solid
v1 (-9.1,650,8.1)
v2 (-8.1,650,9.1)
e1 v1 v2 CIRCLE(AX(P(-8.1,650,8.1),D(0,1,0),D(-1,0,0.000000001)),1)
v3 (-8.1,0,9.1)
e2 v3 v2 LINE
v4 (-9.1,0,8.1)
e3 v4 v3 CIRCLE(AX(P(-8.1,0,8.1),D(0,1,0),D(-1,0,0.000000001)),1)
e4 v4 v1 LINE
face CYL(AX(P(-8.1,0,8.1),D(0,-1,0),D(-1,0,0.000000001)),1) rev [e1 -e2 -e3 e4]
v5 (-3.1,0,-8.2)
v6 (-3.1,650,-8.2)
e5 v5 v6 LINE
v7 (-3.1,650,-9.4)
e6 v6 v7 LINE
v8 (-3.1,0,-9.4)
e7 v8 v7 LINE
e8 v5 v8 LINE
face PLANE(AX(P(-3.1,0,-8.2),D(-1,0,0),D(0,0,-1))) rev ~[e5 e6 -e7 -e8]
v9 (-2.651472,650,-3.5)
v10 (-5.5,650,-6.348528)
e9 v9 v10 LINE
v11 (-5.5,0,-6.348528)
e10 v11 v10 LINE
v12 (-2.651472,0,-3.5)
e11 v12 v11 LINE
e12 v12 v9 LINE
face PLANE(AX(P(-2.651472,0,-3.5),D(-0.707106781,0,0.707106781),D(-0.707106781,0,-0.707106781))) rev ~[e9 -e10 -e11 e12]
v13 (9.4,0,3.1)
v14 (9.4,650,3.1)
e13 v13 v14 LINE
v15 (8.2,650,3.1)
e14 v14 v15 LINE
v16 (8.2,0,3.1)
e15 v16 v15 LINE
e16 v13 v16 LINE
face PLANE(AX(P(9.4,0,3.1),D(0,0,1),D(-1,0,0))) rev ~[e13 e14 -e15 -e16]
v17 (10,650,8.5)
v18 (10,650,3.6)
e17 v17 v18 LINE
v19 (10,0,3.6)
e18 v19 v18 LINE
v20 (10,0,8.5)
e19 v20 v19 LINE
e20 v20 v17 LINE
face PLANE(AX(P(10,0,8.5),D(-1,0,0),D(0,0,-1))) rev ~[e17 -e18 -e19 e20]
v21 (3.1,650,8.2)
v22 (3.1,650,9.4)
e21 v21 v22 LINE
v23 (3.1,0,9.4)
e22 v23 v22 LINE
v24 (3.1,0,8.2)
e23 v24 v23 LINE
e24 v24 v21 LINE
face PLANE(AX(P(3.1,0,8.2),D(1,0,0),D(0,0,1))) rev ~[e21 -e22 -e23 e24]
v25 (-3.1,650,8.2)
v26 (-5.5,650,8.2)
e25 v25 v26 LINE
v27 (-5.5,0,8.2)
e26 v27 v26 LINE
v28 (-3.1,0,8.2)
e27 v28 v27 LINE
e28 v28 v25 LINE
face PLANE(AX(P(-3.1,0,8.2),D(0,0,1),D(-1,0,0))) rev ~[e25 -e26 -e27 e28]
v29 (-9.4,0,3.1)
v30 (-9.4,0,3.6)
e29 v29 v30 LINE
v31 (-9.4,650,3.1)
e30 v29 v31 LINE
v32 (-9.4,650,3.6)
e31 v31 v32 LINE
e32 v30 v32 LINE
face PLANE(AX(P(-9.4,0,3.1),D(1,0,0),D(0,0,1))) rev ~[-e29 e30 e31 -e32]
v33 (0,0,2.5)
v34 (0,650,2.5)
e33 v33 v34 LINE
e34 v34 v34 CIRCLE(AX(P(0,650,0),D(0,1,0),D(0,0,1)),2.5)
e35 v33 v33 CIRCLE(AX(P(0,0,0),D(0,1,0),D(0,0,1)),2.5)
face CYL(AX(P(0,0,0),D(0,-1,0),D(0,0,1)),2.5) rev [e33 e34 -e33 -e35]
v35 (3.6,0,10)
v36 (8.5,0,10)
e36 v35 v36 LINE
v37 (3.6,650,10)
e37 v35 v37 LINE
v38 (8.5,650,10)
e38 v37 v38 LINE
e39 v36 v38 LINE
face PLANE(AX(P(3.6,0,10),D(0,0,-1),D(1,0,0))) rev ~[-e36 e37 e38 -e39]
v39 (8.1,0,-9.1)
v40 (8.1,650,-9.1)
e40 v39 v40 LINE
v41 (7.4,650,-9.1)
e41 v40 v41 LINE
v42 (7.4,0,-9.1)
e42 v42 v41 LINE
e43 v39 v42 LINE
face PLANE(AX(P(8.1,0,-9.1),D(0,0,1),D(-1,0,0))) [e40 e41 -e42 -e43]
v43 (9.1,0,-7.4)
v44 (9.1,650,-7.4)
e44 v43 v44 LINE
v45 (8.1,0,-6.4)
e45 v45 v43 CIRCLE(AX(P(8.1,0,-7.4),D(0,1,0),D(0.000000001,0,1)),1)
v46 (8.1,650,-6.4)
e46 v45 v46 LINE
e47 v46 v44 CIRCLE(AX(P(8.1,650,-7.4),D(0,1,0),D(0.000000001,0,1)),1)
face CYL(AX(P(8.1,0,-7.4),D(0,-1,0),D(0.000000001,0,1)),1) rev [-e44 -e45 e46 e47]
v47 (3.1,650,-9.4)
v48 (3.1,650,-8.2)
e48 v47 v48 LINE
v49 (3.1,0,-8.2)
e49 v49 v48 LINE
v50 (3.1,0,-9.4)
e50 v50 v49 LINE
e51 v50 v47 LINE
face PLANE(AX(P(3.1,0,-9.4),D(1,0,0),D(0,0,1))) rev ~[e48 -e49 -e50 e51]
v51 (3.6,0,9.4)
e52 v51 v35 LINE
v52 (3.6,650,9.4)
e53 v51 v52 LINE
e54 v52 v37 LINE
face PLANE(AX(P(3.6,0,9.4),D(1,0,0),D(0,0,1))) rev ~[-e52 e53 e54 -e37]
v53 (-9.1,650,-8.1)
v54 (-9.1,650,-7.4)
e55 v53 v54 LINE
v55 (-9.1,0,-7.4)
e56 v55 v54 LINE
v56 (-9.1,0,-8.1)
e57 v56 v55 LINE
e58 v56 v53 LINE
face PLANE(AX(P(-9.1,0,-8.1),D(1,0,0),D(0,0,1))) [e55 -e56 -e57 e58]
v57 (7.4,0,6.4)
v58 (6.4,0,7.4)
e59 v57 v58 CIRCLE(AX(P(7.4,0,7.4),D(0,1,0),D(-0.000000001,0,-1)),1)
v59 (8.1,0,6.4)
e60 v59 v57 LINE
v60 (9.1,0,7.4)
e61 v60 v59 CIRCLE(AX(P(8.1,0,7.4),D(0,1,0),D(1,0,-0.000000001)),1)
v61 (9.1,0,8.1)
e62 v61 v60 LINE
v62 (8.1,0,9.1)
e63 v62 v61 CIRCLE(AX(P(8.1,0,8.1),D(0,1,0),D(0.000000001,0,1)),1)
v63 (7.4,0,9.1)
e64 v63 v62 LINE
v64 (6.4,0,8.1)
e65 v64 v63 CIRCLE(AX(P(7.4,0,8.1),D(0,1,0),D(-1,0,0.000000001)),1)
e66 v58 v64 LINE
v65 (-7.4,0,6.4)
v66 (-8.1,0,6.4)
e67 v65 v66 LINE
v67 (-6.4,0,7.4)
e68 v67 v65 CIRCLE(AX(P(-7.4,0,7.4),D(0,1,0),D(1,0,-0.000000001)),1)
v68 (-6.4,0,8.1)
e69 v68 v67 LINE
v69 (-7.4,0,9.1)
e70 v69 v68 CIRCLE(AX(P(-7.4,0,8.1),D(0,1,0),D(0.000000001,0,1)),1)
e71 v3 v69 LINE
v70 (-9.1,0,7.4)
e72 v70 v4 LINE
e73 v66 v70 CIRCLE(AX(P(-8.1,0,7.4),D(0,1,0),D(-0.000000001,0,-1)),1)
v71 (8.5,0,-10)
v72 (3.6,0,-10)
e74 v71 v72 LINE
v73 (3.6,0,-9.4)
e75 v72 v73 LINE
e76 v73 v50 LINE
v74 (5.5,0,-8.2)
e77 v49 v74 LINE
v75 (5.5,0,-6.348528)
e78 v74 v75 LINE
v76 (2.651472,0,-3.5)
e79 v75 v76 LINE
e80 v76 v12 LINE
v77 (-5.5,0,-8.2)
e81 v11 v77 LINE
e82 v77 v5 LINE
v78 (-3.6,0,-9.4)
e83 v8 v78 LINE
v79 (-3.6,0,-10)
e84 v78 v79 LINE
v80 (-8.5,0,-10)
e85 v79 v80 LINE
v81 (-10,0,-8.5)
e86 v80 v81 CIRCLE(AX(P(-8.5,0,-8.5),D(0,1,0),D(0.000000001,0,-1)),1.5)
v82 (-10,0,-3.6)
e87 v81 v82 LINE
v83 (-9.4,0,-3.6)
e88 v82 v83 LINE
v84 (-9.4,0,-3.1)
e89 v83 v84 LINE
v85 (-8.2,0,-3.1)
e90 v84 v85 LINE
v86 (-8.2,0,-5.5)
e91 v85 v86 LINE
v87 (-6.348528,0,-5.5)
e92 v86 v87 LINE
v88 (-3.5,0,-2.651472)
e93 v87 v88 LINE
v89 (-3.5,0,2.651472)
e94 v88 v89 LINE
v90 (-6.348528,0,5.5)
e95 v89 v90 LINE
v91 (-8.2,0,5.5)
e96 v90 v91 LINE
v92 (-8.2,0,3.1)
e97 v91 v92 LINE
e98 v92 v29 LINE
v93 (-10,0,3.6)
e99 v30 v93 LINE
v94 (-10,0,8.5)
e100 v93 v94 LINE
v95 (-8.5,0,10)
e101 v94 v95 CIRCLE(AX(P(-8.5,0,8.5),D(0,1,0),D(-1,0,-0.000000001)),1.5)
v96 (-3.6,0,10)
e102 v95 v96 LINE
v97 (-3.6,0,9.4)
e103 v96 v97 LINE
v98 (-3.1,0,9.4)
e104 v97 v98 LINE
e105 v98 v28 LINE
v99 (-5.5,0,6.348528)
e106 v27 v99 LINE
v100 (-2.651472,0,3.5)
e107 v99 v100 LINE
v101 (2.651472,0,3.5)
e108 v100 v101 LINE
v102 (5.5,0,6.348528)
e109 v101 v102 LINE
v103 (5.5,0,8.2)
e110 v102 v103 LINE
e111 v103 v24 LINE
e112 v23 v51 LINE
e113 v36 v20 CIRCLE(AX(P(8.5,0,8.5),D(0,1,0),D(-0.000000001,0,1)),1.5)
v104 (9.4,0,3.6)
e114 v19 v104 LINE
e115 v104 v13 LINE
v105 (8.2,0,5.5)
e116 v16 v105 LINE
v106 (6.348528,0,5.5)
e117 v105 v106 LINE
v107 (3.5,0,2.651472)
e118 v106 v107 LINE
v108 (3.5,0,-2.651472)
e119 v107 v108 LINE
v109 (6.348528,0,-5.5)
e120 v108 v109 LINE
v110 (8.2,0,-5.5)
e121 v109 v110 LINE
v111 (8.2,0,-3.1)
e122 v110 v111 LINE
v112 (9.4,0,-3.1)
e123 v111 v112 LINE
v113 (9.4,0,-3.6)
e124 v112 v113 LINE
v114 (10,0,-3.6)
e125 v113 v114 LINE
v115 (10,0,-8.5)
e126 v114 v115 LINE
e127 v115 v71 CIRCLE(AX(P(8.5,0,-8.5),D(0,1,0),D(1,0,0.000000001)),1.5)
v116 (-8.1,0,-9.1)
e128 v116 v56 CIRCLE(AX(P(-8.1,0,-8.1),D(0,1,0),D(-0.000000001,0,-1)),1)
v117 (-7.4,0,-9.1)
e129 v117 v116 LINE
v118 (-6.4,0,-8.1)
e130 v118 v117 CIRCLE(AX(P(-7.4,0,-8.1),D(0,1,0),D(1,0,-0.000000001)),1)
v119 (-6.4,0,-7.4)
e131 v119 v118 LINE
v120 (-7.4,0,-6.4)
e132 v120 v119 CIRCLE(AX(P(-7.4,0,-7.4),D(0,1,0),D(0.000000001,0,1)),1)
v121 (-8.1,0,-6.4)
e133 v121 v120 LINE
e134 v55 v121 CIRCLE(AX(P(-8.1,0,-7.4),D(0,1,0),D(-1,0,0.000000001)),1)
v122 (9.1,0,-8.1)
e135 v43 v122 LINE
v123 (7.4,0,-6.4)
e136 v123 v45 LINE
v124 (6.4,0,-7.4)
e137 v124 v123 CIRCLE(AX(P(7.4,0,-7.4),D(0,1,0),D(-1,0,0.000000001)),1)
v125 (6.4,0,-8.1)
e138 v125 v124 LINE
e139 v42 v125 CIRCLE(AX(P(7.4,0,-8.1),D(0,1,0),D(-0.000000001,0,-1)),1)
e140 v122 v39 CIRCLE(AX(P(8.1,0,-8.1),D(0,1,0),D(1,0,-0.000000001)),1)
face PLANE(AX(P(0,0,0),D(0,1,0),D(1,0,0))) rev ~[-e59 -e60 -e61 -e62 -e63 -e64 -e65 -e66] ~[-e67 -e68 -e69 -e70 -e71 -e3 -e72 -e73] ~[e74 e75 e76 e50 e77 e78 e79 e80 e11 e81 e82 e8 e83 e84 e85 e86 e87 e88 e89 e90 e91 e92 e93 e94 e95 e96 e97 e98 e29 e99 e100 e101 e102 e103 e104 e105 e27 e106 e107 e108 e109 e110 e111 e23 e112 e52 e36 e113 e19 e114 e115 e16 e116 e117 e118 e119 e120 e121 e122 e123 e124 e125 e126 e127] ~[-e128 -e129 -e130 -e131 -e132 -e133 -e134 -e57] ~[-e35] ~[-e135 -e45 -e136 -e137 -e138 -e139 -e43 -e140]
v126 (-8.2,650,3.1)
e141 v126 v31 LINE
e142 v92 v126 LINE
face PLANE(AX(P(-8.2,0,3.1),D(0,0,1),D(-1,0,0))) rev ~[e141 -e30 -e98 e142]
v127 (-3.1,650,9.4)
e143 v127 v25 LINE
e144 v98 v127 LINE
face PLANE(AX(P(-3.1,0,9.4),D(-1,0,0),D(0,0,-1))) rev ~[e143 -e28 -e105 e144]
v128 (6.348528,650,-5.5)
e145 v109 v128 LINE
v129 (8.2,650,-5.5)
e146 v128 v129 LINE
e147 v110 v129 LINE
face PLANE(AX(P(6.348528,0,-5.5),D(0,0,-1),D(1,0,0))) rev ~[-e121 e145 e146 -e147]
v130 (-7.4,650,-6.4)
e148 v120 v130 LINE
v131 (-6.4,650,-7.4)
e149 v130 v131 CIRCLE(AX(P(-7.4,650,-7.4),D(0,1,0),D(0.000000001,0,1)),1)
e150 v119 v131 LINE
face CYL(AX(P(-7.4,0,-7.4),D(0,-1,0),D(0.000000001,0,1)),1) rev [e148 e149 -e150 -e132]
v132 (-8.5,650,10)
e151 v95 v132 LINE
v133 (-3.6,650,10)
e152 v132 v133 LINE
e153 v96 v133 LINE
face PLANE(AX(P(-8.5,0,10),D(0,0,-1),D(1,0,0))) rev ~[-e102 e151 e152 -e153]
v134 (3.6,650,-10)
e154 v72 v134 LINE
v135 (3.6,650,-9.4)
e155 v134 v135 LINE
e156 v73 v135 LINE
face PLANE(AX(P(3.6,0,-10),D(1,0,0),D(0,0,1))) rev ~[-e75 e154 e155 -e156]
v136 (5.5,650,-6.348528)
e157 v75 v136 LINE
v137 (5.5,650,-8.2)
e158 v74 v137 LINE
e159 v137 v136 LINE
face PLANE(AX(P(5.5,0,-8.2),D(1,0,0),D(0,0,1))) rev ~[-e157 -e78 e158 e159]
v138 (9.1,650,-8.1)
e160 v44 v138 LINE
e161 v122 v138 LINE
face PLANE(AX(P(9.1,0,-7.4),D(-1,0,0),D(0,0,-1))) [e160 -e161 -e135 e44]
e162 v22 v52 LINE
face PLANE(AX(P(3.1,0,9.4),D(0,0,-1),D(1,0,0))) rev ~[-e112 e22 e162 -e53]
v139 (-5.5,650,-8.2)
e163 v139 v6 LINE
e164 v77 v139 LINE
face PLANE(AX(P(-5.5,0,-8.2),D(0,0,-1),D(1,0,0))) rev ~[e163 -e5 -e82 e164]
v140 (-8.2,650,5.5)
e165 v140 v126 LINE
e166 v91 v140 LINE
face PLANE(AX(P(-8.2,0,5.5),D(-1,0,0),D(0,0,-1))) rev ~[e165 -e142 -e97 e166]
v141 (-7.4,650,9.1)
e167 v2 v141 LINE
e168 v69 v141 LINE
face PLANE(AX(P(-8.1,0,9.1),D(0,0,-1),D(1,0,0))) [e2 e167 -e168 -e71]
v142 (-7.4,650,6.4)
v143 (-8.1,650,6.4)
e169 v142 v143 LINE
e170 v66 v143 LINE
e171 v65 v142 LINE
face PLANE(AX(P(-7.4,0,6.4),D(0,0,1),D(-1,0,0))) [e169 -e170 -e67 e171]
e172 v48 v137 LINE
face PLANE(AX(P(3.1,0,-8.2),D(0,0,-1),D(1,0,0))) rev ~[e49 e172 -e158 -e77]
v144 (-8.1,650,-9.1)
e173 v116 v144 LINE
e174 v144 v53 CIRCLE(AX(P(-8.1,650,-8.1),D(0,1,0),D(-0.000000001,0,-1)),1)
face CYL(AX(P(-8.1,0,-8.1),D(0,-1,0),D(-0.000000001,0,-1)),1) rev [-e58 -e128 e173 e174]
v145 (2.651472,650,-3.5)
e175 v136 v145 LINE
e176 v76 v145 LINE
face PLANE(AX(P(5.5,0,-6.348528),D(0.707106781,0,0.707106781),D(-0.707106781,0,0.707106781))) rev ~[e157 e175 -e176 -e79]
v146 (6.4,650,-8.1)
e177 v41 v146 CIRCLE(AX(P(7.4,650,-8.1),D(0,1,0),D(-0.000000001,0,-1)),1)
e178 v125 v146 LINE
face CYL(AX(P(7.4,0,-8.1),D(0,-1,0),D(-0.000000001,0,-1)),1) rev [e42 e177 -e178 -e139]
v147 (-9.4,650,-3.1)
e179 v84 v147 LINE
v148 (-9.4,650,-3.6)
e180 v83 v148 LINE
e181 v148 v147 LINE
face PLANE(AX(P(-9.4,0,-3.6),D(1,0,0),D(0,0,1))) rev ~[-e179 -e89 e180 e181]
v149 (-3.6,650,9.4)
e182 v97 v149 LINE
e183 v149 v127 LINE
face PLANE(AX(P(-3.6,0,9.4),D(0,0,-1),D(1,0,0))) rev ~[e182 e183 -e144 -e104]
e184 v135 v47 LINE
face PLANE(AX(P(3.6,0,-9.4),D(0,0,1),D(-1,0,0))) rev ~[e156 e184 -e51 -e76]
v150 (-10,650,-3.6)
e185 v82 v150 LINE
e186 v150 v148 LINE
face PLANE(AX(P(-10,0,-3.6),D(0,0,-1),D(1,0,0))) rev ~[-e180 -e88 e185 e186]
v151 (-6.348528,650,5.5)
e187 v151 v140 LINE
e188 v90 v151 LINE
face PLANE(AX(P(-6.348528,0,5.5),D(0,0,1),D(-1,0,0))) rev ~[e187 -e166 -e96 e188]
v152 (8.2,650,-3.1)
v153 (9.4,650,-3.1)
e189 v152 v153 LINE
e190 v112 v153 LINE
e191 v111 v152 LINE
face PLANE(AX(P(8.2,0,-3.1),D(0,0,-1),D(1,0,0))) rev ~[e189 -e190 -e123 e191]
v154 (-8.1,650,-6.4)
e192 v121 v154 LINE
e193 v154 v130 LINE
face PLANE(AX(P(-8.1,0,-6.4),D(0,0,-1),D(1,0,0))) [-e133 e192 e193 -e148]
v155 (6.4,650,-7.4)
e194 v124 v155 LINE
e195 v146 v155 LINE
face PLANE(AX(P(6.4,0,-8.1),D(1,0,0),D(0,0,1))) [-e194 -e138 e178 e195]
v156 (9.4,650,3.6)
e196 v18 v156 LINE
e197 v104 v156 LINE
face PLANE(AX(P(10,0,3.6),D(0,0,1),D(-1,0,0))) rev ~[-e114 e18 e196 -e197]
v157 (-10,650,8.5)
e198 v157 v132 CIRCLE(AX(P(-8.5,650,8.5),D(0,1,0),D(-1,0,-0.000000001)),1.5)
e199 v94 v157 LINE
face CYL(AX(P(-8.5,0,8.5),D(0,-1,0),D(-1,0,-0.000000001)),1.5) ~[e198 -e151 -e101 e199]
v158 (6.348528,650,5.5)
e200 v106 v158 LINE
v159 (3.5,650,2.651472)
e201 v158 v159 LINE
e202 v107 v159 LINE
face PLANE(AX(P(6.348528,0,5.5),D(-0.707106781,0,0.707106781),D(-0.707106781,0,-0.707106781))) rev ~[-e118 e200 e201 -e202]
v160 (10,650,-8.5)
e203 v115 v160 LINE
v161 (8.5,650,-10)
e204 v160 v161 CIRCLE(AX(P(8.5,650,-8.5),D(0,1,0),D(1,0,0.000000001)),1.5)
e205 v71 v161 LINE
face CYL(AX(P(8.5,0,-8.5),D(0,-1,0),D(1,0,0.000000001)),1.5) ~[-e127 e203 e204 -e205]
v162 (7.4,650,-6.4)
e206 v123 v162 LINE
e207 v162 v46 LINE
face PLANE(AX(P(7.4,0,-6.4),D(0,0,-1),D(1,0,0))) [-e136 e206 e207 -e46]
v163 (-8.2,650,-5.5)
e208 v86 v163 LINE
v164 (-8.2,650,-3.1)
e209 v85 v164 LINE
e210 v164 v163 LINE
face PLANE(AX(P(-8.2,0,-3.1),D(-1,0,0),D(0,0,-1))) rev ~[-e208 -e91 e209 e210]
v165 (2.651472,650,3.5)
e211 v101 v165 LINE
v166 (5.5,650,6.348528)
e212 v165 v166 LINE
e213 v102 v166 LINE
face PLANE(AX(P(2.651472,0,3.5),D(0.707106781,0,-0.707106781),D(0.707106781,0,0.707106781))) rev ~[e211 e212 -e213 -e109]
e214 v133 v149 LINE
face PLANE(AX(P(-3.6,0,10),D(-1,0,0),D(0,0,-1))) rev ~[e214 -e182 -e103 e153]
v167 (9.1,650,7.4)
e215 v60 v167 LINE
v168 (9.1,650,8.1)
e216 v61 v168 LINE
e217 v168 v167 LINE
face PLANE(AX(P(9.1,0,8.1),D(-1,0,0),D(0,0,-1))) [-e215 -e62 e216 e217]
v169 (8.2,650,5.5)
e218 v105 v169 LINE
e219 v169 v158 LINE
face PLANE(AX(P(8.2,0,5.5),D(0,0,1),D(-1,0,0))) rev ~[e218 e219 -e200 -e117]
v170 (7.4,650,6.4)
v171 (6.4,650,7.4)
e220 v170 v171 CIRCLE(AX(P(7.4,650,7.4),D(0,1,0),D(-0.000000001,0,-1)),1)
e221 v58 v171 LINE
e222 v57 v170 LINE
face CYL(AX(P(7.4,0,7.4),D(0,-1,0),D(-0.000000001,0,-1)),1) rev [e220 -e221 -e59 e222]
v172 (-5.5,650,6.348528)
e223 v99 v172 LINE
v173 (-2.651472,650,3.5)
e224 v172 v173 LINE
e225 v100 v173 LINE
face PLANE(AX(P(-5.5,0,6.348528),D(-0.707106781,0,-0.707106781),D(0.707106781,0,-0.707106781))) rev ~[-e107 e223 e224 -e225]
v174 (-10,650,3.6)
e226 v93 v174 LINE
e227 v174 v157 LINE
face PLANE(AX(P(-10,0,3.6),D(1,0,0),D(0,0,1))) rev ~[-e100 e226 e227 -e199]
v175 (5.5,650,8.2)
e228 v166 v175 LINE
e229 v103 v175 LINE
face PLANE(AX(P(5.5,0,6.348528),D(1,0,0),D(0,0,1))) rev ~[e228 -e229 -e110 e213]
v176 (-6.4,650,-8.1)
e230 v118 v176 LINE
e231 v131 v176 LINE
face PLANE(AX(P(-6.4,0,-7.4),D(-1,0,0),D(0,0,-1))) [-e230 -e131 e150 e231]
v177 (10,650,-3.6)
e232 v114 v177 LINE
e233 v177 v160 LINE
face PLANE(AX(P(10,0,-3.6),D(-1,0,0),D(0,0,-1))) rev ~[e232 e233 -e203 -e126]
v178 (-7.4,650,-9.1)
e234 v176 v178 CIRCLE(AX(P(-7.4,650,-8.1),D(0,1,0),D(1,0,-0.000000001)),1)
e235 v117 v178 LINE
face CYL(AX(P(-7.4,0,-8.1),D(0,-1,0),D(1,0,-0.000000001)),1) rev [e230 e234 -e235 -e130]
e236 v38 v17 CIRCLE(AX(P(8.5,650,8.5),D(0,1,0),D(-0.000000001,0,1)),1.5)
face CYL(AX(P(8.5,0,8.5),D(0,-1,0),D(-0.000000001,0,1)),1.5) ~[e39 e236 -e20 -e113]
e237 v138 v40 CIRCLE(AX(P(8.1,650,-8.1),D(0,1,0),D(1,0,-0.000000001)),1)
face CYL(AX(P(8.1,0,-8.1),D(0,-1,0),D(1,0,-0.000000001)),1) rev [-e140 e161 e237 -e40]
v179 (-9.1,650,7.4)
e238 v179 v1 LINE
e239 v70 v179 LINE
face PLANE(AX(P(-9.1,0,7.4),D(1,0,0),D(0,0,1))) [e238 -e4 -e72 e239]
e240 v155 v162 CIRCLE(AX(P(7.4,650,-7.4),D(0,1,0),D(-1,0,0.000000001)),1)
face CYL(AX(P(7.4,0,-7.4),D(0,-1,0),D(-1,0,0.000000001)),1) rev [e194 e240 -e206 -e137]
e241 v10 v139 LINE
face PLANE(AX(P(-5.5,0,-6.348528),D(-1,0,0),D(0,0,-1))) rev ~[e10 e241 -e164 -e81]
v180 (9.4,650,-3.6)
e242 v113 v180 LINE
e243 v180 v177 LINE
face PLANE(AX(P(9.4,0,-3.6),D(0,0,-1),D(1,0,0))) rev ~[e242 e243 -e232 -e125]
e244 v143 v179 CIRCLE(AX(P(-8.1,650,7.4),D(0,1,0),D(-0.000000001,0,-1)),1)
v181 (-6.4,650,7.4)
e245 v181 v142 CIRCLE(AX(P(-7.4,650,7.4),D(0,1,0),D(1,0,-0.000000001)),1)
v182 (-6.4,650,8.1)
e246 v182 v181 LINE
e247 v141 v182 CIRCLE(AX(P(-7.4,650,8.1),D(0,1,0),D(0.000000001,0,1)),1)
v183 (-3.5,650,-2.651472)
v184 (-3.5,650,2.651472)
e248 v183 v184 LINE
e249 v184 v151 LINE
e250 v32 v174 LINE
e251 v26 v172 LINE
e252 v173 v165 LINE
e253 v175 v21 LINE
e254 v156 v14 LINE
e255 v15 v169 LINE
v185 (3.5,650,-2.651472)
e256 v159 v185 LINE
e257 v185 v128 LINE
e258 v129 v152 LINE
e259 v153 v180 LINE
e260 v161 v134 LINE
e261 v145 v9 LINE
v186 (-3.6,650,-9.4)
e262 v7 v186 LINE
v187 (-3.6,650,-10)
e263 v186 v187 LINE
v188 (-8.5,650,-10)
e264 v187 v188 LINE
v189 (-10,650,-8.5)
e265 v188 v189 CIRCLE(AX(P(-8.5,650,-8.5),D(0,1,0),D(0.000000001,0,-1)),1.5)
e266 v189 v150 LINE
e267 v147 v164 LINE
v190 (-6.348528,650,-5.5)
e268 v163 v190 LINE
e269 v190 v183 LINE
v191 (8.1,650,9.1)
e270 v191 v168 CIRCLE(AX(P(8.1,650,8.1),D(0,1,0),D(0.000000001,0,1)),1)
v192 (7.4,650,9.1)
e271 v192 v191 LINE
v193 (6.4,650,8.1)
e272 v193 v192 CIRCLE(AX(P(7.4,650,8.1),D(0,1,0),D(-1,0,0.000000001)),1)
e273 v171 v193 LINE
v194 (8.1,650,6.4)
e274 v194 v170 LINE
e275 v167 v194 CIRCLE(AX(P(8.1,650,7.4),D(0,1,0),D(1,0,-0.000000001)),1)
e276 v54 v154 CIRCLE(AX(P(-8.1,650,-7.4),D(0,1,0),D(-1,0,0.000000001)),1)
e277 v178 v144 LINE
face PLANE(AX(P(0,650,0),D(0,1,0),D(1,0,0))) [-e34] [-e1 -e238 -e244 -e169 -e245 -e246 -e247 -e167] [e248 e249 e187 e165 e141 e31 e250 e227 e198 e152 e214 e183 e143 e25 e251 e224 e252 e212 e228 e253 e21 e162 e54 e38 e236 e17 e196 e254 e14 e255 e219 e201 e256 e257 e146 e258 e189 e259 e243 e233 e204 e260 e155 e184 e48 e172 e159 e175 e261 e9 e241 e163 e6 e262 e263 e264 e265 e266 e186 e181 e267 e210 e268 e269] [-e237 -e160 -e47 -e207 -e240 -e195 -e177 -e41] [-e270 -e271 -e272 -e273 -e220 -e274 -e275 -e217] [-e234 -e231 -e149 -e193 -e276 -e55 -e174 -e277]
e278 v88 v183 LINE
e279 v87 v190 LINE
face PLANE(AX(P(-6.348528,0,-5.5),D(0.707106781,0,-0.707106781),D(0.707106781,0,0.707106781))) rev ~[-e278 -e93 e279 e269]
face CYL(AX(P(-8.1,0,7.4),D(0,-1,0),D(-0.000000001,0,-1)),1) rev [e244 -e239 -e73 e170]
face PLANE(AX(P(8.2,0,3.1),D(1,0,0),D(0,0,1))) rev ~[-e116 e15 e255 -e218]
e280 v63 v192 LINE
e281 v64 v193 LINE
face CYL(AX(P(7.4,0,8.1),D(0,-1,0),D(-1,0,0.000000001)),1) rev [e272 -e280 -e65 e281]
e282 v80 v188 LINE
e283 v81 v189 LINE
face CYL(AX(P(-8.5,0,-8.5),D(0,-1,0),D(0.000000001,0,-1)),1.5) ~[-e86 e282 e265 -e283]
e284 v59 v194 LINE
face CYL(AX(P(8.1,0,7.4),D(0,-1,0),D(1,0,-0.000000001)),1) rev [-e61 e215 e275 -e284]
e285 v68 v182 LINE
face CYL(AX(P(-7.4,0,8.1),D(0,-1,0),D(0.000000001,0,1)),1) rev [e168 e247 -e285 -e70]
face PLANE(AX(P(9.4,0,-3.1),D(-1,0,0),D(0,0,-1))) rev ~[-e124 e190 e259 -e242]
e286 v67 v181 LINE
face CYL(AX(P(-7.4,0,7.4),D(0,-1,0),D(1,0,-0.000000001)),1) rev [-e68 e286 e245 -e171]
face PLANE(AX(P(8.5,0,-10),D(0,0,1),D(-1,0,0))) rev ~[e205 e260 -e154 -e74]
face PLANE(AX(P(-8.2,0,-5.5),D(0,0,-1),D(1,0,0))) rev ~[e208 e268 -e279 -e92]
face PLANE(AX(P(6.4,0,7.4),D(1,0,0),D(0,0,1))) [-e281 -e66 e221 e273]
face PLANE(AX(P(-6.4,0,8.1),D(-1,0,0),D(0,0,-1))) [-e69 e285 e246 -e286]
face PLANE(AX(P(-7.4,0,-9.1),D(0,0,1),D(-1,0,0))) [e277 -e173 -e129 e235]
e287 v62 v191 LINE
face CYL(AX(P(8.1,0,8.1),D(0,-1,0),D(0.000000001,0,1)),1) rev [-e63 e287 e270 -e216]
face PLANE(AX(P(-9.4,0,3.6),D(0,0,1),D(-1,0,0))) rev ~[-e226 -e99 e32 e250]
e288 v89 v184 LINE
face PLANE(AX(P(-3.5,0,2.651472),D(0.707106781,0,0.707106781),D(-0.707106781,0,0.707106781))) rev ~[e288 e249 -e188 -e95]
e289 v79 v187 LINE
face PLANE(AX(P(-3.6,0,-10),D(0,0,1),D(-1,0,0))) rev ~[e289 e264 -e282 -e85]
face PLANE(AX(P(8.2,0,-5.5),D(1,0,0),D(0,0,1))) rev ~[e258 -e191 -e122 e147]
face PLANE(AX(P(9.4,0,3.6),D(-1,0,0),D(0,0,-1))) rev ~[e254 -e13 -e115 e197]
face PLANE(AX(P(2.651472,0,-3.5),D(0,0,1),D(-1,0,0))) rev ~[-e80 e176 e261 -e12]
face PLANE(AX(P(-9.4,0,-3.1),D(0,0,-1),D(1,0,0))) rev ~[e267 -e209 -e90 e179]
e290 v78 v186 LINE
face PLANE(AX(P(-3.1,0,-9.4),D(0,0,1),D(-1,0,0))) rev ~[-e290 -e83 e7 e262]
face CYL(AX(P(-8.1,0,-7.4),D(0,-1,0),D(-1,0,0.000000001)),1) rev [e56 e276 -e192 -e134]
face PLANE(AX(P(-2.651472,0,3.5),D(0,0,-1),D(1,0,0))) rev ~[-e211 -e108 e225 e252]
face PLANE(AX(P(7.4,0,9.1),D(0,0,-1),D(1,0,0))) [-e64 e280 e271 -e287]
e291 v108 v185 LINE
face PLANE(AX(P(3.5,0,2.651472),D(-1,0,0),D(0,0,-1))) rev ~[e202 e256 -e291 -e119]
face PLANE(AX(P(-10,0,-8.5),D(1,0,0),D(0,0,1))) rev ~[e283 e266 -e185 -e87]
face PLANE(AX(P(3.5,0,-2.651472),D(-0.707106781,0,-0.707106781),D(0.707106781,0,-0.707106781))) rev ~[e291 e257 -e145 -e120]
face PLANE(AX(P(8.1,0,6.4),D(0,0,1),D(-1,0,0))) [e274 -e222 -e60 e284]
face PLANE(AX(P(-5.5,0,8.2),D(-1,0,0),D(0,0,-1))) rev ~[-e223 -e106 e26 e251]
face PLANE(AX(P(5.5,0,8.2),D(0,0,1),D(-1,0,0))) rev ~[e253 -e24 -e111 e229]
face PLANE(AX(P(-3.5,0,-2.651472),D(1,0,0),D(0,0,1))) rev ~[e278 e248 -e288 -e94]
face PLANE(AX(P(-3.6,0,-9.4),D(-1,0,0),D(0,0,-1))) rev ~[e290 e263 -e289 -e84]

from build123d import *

# Parameters (mm, degrees)
SKETCH_1_R      = 2.5
EXTRUDE_1_DEPTH = 650


with BuildPart() as part:
    # 草图1 → 凸台-拉伸1 (new body)
    with BuildSketch(Plane(origin=(0, 0, 0), x_dir=(1, 0, 0), z_dir=(0, 1, 0))):
        with BuildLine():
            Line((-3.6, 10), (-8.5, 10))
            ThreePointArc((-8.5, 10), (-9.560660172, 9.560660172), (-10, 8.5))
            Line((-10, 8.5), (-10, 3.6))
            Line((-10, 3.6), (-9.4, 3.6))
            Line((-9.4, 3.6), (-9.4, 3.1))
            Line((-9.4, 3.1), (-8.2, 3.1))
            Line((-8.2, 3.1), (-8.2, 5.5))
            Line((-8.2, 5.5), (-6.348528137, 5.5))
            Line((-6.348528137, 5.5), (-3.5, 2.651471863))
            Line((-3.5, 2.651471863), (-3.5, -2.651471863))
            Line((-3.5, -2.651471863), (-6.348528137, -5.5))
            Line((-6.348528137, -5.5), (-8.2, -5.5))
            Line((-8.2, -5.5), (-8.2, -3.1))
            Line((-8.2, -3.1), (-9.4, -3.1))
            Line((-9.4, -3.1), (-9.4, -3.6))
            Line((-9.4, -3.6), (-10, -3.6))
            Line((-10, -3.6), (-10, -8.5))
            ThreePointArc((-10, -8.5), (-9.560660172, -9.560660172), (-8.5, -10))
            Line((-8.5, -10), (-3.6, -10))
            Line((-3.6, -10), (-3.6, -9.4))
            Line((-3.6, -9.4), (-3.1, -9.4))
            Line((-3.1, -9.4), (-3.1, -8.2))
            Line((-3.1, -8.2), (-5.5, -8.2))
            Line((-5.5, -8.2), (-5.5, -6.348528137))
            Line((-5.5, -6.348528137), (-2.651471863, -3.5))
            Line((-2.651471863, -3.5), (2.651471863, -3.5))
            Line((2.651471863, -3.5), (5.5, -6.348528137))
            Line((5.5, -6.348528137), (5.5, -8.2))
            Line((5.5, -8.2), (3.1, -8.2))
            Line((3.1, -8.2), (3.1, -9.4))
            Line((3.1, -9.4), (3.6, -9.4))
            Line((3.6, -9.4), (3.6, -10))
            Line((3.6, -10), (8.5, -10))
            ThreePointArc((8.5, -10), (9.560660172, -9.560660172), (10, -8.5))
            Line((10, -8.5), (10, -3.6))
            Line((10, -3.6), (9.4, -3.6))
            Line((9.4, -3.6), (9.4, -3.1))
            Line((9.4, -3.1), (8.2, -3.1))
            Line((8.2, -3.1), (8.2, -5.5))
            Line((8.2, -5.5), (6.348528137, -5.5))
            Line((6.348528137, -5.5), (3.5, -2.651471863))
            Line((3.5, -2.651471863), (3.5, 2.651471863))
            Line((3.5, 2.651471863), (6.348528137, 5.5))
            Line((6.348528137, 5.5), (8.2, 5.5))
            Line((8.2, 5.5), (8.2, 3.1))
            Line((8.2, 3.1), (9.4, 3.1))
            Line((9.4, 3.1), (9.4, 3.6))
            Line((9.4, 3.6), (10, 3.6))
            Line((10, 3.6), (10, 8.5))
            ThreePointArc((10, 8.5), (9.560660172, 9.560660172), (8.5, 10))
            Line((8.5, 10), (3.6, 10))
            Line((3.6, 10), (3.6, 9.4))
            Line((3.6, 9.4), (3.1, 9.4))
            Line((3.1, 9.4), (3.1, 8.2))
            Line((3.1, 8.2), (5.5, 8.2))
            Line((5.5, 8.2), (5.5, 6.348528137))
            Line((5.5, 6.348528137), (2.651471863, 3.5))
            Line((2.651471863, 3.5), (-2.651471863, 3.5))
            Line((-2.651471863, 3.5), (-5.5, 6.348528137))
            Line((-5.5, 6.348528137), (-5.5, 8.2))
            Line((-5.5, 8.2), (-3.1, 8.2))
            Line((-3.1, 8.2), (-3.1, 9.4))
            Line((-3.1, 9.4), (-3.6, 9.4))
            Line((-3.6, 9.4), (-3.6, 10))
        make_face()
        with Locations(Location((0, 0, 0), (0, 0, 270))):
            Circle(SKETCH_1_R, mode=Mode.SUBTRACT)
        with BuildLine():
            Line((-7.4, 9.1), (-8.1, 9.1))
            ThreePointArc((-8.1, 9.1), (-8.807106781, 8.807106781), (-9.1, 8.1))
            Line((-9.1, 8.1), (-9.1, 7.4))
            ThreePointArc((-9.1, 7.4), (-8.807106781, 6.692893219), (-8.1, 6.4))
            Line((-8.1, 6.4), (-7.4, 6.4))
            ThreePointArc((-7.4, 6.4), (-6.692893219, 6.692893219), (-6.4, 7.4))
            Line((-6.4, 7.4), (-6.4, 8.1))
            ThreePointArc((-6.4, 8.1), (-6.692893219, 8.807106781), (-7.4, 9.1))
        make_face(mode=Mode.SUBTRACT)
        with BuildLine():
            Line((9.1, 7.4), (9.1, 8.1))
            ThreePointArc((9.1, 8.1), (8.807106781, 8.807106781), (8.1, 9.1))
            Line((8.1, 9.1), (7.4, 9.1))
            ThreePointArc((7.4, 9.1), (6.692893219, 8.807106781), (6.4, 8.1))
            Line((6.4, 8.1), (6.4, 7.4))
            ThreePointArc((6.4, 7.4), (6.692893219, 6.692893219), (7.4, 6.4))
            Line((7.4, 6.4), (8.1, 6.4))
            ThreePointArc((8.1, 6.4), (8.807106781, 6.692893219), (9.1, 7.4))
        make_face(mode=Mode.SUBTRACT)
        with BuildLine():
            Line((7.4, -9.1), (8.1, -9.1))
            ThreePointArc((8.1, -9.1), (8.807106781, -8.807106781), (9.1, -8.1))
            Line((9.1, -8.1), (9.1, -7.4))
            ThreePointArc((9.1, -7.4), (8.807106781, -6.692893219), (8.1, -6.4))
            Line((8.1, -6.4), (7.4, -6.4))
            ThreePointArc((7.4, -6.4), (6.692893219, -6.692893219), (6.4, -7.4))
            Line((6.4, -7.4), (6.4, -8.1))
            ThreePointArc((6.4, -8.1), (6.692893219, -8.807106781), (7.4, -9.1))
        make_face(mode=Mode.SUBTRACT)
        with BuildLine():
            Line((-9.1, -7.4), (-9.1, -8.1))
            ThreePointArc((-9.1, -8.1), (-8.807106781, -8.807106781), (-8.1, -9.1))
            Line((-8.1, -9.1), (-7.4, -9.1))
            ThreePointArc((-7.4, -9.1), (-6.692893219, -8.807106781), (-6.4, -8.1))
            Line((-6.4, -8.1), (-6.4, -7.4))
            ThreePointArc((-6.4, -7.4), (-6.692893219, -6.692893219), (-7.4, -6.4))
            Line((-7.4, -6.4), (-8.1, -6.4))
            ThreePointArc((-8.1, -6.4), (-8.807106781, -6.692893219), (-9.1, -7.4))
        make_face(mode=Mode.SUBTRACT)
    extrude(amount=EXTRUDE_1_DEPTH)


solid = part.part
